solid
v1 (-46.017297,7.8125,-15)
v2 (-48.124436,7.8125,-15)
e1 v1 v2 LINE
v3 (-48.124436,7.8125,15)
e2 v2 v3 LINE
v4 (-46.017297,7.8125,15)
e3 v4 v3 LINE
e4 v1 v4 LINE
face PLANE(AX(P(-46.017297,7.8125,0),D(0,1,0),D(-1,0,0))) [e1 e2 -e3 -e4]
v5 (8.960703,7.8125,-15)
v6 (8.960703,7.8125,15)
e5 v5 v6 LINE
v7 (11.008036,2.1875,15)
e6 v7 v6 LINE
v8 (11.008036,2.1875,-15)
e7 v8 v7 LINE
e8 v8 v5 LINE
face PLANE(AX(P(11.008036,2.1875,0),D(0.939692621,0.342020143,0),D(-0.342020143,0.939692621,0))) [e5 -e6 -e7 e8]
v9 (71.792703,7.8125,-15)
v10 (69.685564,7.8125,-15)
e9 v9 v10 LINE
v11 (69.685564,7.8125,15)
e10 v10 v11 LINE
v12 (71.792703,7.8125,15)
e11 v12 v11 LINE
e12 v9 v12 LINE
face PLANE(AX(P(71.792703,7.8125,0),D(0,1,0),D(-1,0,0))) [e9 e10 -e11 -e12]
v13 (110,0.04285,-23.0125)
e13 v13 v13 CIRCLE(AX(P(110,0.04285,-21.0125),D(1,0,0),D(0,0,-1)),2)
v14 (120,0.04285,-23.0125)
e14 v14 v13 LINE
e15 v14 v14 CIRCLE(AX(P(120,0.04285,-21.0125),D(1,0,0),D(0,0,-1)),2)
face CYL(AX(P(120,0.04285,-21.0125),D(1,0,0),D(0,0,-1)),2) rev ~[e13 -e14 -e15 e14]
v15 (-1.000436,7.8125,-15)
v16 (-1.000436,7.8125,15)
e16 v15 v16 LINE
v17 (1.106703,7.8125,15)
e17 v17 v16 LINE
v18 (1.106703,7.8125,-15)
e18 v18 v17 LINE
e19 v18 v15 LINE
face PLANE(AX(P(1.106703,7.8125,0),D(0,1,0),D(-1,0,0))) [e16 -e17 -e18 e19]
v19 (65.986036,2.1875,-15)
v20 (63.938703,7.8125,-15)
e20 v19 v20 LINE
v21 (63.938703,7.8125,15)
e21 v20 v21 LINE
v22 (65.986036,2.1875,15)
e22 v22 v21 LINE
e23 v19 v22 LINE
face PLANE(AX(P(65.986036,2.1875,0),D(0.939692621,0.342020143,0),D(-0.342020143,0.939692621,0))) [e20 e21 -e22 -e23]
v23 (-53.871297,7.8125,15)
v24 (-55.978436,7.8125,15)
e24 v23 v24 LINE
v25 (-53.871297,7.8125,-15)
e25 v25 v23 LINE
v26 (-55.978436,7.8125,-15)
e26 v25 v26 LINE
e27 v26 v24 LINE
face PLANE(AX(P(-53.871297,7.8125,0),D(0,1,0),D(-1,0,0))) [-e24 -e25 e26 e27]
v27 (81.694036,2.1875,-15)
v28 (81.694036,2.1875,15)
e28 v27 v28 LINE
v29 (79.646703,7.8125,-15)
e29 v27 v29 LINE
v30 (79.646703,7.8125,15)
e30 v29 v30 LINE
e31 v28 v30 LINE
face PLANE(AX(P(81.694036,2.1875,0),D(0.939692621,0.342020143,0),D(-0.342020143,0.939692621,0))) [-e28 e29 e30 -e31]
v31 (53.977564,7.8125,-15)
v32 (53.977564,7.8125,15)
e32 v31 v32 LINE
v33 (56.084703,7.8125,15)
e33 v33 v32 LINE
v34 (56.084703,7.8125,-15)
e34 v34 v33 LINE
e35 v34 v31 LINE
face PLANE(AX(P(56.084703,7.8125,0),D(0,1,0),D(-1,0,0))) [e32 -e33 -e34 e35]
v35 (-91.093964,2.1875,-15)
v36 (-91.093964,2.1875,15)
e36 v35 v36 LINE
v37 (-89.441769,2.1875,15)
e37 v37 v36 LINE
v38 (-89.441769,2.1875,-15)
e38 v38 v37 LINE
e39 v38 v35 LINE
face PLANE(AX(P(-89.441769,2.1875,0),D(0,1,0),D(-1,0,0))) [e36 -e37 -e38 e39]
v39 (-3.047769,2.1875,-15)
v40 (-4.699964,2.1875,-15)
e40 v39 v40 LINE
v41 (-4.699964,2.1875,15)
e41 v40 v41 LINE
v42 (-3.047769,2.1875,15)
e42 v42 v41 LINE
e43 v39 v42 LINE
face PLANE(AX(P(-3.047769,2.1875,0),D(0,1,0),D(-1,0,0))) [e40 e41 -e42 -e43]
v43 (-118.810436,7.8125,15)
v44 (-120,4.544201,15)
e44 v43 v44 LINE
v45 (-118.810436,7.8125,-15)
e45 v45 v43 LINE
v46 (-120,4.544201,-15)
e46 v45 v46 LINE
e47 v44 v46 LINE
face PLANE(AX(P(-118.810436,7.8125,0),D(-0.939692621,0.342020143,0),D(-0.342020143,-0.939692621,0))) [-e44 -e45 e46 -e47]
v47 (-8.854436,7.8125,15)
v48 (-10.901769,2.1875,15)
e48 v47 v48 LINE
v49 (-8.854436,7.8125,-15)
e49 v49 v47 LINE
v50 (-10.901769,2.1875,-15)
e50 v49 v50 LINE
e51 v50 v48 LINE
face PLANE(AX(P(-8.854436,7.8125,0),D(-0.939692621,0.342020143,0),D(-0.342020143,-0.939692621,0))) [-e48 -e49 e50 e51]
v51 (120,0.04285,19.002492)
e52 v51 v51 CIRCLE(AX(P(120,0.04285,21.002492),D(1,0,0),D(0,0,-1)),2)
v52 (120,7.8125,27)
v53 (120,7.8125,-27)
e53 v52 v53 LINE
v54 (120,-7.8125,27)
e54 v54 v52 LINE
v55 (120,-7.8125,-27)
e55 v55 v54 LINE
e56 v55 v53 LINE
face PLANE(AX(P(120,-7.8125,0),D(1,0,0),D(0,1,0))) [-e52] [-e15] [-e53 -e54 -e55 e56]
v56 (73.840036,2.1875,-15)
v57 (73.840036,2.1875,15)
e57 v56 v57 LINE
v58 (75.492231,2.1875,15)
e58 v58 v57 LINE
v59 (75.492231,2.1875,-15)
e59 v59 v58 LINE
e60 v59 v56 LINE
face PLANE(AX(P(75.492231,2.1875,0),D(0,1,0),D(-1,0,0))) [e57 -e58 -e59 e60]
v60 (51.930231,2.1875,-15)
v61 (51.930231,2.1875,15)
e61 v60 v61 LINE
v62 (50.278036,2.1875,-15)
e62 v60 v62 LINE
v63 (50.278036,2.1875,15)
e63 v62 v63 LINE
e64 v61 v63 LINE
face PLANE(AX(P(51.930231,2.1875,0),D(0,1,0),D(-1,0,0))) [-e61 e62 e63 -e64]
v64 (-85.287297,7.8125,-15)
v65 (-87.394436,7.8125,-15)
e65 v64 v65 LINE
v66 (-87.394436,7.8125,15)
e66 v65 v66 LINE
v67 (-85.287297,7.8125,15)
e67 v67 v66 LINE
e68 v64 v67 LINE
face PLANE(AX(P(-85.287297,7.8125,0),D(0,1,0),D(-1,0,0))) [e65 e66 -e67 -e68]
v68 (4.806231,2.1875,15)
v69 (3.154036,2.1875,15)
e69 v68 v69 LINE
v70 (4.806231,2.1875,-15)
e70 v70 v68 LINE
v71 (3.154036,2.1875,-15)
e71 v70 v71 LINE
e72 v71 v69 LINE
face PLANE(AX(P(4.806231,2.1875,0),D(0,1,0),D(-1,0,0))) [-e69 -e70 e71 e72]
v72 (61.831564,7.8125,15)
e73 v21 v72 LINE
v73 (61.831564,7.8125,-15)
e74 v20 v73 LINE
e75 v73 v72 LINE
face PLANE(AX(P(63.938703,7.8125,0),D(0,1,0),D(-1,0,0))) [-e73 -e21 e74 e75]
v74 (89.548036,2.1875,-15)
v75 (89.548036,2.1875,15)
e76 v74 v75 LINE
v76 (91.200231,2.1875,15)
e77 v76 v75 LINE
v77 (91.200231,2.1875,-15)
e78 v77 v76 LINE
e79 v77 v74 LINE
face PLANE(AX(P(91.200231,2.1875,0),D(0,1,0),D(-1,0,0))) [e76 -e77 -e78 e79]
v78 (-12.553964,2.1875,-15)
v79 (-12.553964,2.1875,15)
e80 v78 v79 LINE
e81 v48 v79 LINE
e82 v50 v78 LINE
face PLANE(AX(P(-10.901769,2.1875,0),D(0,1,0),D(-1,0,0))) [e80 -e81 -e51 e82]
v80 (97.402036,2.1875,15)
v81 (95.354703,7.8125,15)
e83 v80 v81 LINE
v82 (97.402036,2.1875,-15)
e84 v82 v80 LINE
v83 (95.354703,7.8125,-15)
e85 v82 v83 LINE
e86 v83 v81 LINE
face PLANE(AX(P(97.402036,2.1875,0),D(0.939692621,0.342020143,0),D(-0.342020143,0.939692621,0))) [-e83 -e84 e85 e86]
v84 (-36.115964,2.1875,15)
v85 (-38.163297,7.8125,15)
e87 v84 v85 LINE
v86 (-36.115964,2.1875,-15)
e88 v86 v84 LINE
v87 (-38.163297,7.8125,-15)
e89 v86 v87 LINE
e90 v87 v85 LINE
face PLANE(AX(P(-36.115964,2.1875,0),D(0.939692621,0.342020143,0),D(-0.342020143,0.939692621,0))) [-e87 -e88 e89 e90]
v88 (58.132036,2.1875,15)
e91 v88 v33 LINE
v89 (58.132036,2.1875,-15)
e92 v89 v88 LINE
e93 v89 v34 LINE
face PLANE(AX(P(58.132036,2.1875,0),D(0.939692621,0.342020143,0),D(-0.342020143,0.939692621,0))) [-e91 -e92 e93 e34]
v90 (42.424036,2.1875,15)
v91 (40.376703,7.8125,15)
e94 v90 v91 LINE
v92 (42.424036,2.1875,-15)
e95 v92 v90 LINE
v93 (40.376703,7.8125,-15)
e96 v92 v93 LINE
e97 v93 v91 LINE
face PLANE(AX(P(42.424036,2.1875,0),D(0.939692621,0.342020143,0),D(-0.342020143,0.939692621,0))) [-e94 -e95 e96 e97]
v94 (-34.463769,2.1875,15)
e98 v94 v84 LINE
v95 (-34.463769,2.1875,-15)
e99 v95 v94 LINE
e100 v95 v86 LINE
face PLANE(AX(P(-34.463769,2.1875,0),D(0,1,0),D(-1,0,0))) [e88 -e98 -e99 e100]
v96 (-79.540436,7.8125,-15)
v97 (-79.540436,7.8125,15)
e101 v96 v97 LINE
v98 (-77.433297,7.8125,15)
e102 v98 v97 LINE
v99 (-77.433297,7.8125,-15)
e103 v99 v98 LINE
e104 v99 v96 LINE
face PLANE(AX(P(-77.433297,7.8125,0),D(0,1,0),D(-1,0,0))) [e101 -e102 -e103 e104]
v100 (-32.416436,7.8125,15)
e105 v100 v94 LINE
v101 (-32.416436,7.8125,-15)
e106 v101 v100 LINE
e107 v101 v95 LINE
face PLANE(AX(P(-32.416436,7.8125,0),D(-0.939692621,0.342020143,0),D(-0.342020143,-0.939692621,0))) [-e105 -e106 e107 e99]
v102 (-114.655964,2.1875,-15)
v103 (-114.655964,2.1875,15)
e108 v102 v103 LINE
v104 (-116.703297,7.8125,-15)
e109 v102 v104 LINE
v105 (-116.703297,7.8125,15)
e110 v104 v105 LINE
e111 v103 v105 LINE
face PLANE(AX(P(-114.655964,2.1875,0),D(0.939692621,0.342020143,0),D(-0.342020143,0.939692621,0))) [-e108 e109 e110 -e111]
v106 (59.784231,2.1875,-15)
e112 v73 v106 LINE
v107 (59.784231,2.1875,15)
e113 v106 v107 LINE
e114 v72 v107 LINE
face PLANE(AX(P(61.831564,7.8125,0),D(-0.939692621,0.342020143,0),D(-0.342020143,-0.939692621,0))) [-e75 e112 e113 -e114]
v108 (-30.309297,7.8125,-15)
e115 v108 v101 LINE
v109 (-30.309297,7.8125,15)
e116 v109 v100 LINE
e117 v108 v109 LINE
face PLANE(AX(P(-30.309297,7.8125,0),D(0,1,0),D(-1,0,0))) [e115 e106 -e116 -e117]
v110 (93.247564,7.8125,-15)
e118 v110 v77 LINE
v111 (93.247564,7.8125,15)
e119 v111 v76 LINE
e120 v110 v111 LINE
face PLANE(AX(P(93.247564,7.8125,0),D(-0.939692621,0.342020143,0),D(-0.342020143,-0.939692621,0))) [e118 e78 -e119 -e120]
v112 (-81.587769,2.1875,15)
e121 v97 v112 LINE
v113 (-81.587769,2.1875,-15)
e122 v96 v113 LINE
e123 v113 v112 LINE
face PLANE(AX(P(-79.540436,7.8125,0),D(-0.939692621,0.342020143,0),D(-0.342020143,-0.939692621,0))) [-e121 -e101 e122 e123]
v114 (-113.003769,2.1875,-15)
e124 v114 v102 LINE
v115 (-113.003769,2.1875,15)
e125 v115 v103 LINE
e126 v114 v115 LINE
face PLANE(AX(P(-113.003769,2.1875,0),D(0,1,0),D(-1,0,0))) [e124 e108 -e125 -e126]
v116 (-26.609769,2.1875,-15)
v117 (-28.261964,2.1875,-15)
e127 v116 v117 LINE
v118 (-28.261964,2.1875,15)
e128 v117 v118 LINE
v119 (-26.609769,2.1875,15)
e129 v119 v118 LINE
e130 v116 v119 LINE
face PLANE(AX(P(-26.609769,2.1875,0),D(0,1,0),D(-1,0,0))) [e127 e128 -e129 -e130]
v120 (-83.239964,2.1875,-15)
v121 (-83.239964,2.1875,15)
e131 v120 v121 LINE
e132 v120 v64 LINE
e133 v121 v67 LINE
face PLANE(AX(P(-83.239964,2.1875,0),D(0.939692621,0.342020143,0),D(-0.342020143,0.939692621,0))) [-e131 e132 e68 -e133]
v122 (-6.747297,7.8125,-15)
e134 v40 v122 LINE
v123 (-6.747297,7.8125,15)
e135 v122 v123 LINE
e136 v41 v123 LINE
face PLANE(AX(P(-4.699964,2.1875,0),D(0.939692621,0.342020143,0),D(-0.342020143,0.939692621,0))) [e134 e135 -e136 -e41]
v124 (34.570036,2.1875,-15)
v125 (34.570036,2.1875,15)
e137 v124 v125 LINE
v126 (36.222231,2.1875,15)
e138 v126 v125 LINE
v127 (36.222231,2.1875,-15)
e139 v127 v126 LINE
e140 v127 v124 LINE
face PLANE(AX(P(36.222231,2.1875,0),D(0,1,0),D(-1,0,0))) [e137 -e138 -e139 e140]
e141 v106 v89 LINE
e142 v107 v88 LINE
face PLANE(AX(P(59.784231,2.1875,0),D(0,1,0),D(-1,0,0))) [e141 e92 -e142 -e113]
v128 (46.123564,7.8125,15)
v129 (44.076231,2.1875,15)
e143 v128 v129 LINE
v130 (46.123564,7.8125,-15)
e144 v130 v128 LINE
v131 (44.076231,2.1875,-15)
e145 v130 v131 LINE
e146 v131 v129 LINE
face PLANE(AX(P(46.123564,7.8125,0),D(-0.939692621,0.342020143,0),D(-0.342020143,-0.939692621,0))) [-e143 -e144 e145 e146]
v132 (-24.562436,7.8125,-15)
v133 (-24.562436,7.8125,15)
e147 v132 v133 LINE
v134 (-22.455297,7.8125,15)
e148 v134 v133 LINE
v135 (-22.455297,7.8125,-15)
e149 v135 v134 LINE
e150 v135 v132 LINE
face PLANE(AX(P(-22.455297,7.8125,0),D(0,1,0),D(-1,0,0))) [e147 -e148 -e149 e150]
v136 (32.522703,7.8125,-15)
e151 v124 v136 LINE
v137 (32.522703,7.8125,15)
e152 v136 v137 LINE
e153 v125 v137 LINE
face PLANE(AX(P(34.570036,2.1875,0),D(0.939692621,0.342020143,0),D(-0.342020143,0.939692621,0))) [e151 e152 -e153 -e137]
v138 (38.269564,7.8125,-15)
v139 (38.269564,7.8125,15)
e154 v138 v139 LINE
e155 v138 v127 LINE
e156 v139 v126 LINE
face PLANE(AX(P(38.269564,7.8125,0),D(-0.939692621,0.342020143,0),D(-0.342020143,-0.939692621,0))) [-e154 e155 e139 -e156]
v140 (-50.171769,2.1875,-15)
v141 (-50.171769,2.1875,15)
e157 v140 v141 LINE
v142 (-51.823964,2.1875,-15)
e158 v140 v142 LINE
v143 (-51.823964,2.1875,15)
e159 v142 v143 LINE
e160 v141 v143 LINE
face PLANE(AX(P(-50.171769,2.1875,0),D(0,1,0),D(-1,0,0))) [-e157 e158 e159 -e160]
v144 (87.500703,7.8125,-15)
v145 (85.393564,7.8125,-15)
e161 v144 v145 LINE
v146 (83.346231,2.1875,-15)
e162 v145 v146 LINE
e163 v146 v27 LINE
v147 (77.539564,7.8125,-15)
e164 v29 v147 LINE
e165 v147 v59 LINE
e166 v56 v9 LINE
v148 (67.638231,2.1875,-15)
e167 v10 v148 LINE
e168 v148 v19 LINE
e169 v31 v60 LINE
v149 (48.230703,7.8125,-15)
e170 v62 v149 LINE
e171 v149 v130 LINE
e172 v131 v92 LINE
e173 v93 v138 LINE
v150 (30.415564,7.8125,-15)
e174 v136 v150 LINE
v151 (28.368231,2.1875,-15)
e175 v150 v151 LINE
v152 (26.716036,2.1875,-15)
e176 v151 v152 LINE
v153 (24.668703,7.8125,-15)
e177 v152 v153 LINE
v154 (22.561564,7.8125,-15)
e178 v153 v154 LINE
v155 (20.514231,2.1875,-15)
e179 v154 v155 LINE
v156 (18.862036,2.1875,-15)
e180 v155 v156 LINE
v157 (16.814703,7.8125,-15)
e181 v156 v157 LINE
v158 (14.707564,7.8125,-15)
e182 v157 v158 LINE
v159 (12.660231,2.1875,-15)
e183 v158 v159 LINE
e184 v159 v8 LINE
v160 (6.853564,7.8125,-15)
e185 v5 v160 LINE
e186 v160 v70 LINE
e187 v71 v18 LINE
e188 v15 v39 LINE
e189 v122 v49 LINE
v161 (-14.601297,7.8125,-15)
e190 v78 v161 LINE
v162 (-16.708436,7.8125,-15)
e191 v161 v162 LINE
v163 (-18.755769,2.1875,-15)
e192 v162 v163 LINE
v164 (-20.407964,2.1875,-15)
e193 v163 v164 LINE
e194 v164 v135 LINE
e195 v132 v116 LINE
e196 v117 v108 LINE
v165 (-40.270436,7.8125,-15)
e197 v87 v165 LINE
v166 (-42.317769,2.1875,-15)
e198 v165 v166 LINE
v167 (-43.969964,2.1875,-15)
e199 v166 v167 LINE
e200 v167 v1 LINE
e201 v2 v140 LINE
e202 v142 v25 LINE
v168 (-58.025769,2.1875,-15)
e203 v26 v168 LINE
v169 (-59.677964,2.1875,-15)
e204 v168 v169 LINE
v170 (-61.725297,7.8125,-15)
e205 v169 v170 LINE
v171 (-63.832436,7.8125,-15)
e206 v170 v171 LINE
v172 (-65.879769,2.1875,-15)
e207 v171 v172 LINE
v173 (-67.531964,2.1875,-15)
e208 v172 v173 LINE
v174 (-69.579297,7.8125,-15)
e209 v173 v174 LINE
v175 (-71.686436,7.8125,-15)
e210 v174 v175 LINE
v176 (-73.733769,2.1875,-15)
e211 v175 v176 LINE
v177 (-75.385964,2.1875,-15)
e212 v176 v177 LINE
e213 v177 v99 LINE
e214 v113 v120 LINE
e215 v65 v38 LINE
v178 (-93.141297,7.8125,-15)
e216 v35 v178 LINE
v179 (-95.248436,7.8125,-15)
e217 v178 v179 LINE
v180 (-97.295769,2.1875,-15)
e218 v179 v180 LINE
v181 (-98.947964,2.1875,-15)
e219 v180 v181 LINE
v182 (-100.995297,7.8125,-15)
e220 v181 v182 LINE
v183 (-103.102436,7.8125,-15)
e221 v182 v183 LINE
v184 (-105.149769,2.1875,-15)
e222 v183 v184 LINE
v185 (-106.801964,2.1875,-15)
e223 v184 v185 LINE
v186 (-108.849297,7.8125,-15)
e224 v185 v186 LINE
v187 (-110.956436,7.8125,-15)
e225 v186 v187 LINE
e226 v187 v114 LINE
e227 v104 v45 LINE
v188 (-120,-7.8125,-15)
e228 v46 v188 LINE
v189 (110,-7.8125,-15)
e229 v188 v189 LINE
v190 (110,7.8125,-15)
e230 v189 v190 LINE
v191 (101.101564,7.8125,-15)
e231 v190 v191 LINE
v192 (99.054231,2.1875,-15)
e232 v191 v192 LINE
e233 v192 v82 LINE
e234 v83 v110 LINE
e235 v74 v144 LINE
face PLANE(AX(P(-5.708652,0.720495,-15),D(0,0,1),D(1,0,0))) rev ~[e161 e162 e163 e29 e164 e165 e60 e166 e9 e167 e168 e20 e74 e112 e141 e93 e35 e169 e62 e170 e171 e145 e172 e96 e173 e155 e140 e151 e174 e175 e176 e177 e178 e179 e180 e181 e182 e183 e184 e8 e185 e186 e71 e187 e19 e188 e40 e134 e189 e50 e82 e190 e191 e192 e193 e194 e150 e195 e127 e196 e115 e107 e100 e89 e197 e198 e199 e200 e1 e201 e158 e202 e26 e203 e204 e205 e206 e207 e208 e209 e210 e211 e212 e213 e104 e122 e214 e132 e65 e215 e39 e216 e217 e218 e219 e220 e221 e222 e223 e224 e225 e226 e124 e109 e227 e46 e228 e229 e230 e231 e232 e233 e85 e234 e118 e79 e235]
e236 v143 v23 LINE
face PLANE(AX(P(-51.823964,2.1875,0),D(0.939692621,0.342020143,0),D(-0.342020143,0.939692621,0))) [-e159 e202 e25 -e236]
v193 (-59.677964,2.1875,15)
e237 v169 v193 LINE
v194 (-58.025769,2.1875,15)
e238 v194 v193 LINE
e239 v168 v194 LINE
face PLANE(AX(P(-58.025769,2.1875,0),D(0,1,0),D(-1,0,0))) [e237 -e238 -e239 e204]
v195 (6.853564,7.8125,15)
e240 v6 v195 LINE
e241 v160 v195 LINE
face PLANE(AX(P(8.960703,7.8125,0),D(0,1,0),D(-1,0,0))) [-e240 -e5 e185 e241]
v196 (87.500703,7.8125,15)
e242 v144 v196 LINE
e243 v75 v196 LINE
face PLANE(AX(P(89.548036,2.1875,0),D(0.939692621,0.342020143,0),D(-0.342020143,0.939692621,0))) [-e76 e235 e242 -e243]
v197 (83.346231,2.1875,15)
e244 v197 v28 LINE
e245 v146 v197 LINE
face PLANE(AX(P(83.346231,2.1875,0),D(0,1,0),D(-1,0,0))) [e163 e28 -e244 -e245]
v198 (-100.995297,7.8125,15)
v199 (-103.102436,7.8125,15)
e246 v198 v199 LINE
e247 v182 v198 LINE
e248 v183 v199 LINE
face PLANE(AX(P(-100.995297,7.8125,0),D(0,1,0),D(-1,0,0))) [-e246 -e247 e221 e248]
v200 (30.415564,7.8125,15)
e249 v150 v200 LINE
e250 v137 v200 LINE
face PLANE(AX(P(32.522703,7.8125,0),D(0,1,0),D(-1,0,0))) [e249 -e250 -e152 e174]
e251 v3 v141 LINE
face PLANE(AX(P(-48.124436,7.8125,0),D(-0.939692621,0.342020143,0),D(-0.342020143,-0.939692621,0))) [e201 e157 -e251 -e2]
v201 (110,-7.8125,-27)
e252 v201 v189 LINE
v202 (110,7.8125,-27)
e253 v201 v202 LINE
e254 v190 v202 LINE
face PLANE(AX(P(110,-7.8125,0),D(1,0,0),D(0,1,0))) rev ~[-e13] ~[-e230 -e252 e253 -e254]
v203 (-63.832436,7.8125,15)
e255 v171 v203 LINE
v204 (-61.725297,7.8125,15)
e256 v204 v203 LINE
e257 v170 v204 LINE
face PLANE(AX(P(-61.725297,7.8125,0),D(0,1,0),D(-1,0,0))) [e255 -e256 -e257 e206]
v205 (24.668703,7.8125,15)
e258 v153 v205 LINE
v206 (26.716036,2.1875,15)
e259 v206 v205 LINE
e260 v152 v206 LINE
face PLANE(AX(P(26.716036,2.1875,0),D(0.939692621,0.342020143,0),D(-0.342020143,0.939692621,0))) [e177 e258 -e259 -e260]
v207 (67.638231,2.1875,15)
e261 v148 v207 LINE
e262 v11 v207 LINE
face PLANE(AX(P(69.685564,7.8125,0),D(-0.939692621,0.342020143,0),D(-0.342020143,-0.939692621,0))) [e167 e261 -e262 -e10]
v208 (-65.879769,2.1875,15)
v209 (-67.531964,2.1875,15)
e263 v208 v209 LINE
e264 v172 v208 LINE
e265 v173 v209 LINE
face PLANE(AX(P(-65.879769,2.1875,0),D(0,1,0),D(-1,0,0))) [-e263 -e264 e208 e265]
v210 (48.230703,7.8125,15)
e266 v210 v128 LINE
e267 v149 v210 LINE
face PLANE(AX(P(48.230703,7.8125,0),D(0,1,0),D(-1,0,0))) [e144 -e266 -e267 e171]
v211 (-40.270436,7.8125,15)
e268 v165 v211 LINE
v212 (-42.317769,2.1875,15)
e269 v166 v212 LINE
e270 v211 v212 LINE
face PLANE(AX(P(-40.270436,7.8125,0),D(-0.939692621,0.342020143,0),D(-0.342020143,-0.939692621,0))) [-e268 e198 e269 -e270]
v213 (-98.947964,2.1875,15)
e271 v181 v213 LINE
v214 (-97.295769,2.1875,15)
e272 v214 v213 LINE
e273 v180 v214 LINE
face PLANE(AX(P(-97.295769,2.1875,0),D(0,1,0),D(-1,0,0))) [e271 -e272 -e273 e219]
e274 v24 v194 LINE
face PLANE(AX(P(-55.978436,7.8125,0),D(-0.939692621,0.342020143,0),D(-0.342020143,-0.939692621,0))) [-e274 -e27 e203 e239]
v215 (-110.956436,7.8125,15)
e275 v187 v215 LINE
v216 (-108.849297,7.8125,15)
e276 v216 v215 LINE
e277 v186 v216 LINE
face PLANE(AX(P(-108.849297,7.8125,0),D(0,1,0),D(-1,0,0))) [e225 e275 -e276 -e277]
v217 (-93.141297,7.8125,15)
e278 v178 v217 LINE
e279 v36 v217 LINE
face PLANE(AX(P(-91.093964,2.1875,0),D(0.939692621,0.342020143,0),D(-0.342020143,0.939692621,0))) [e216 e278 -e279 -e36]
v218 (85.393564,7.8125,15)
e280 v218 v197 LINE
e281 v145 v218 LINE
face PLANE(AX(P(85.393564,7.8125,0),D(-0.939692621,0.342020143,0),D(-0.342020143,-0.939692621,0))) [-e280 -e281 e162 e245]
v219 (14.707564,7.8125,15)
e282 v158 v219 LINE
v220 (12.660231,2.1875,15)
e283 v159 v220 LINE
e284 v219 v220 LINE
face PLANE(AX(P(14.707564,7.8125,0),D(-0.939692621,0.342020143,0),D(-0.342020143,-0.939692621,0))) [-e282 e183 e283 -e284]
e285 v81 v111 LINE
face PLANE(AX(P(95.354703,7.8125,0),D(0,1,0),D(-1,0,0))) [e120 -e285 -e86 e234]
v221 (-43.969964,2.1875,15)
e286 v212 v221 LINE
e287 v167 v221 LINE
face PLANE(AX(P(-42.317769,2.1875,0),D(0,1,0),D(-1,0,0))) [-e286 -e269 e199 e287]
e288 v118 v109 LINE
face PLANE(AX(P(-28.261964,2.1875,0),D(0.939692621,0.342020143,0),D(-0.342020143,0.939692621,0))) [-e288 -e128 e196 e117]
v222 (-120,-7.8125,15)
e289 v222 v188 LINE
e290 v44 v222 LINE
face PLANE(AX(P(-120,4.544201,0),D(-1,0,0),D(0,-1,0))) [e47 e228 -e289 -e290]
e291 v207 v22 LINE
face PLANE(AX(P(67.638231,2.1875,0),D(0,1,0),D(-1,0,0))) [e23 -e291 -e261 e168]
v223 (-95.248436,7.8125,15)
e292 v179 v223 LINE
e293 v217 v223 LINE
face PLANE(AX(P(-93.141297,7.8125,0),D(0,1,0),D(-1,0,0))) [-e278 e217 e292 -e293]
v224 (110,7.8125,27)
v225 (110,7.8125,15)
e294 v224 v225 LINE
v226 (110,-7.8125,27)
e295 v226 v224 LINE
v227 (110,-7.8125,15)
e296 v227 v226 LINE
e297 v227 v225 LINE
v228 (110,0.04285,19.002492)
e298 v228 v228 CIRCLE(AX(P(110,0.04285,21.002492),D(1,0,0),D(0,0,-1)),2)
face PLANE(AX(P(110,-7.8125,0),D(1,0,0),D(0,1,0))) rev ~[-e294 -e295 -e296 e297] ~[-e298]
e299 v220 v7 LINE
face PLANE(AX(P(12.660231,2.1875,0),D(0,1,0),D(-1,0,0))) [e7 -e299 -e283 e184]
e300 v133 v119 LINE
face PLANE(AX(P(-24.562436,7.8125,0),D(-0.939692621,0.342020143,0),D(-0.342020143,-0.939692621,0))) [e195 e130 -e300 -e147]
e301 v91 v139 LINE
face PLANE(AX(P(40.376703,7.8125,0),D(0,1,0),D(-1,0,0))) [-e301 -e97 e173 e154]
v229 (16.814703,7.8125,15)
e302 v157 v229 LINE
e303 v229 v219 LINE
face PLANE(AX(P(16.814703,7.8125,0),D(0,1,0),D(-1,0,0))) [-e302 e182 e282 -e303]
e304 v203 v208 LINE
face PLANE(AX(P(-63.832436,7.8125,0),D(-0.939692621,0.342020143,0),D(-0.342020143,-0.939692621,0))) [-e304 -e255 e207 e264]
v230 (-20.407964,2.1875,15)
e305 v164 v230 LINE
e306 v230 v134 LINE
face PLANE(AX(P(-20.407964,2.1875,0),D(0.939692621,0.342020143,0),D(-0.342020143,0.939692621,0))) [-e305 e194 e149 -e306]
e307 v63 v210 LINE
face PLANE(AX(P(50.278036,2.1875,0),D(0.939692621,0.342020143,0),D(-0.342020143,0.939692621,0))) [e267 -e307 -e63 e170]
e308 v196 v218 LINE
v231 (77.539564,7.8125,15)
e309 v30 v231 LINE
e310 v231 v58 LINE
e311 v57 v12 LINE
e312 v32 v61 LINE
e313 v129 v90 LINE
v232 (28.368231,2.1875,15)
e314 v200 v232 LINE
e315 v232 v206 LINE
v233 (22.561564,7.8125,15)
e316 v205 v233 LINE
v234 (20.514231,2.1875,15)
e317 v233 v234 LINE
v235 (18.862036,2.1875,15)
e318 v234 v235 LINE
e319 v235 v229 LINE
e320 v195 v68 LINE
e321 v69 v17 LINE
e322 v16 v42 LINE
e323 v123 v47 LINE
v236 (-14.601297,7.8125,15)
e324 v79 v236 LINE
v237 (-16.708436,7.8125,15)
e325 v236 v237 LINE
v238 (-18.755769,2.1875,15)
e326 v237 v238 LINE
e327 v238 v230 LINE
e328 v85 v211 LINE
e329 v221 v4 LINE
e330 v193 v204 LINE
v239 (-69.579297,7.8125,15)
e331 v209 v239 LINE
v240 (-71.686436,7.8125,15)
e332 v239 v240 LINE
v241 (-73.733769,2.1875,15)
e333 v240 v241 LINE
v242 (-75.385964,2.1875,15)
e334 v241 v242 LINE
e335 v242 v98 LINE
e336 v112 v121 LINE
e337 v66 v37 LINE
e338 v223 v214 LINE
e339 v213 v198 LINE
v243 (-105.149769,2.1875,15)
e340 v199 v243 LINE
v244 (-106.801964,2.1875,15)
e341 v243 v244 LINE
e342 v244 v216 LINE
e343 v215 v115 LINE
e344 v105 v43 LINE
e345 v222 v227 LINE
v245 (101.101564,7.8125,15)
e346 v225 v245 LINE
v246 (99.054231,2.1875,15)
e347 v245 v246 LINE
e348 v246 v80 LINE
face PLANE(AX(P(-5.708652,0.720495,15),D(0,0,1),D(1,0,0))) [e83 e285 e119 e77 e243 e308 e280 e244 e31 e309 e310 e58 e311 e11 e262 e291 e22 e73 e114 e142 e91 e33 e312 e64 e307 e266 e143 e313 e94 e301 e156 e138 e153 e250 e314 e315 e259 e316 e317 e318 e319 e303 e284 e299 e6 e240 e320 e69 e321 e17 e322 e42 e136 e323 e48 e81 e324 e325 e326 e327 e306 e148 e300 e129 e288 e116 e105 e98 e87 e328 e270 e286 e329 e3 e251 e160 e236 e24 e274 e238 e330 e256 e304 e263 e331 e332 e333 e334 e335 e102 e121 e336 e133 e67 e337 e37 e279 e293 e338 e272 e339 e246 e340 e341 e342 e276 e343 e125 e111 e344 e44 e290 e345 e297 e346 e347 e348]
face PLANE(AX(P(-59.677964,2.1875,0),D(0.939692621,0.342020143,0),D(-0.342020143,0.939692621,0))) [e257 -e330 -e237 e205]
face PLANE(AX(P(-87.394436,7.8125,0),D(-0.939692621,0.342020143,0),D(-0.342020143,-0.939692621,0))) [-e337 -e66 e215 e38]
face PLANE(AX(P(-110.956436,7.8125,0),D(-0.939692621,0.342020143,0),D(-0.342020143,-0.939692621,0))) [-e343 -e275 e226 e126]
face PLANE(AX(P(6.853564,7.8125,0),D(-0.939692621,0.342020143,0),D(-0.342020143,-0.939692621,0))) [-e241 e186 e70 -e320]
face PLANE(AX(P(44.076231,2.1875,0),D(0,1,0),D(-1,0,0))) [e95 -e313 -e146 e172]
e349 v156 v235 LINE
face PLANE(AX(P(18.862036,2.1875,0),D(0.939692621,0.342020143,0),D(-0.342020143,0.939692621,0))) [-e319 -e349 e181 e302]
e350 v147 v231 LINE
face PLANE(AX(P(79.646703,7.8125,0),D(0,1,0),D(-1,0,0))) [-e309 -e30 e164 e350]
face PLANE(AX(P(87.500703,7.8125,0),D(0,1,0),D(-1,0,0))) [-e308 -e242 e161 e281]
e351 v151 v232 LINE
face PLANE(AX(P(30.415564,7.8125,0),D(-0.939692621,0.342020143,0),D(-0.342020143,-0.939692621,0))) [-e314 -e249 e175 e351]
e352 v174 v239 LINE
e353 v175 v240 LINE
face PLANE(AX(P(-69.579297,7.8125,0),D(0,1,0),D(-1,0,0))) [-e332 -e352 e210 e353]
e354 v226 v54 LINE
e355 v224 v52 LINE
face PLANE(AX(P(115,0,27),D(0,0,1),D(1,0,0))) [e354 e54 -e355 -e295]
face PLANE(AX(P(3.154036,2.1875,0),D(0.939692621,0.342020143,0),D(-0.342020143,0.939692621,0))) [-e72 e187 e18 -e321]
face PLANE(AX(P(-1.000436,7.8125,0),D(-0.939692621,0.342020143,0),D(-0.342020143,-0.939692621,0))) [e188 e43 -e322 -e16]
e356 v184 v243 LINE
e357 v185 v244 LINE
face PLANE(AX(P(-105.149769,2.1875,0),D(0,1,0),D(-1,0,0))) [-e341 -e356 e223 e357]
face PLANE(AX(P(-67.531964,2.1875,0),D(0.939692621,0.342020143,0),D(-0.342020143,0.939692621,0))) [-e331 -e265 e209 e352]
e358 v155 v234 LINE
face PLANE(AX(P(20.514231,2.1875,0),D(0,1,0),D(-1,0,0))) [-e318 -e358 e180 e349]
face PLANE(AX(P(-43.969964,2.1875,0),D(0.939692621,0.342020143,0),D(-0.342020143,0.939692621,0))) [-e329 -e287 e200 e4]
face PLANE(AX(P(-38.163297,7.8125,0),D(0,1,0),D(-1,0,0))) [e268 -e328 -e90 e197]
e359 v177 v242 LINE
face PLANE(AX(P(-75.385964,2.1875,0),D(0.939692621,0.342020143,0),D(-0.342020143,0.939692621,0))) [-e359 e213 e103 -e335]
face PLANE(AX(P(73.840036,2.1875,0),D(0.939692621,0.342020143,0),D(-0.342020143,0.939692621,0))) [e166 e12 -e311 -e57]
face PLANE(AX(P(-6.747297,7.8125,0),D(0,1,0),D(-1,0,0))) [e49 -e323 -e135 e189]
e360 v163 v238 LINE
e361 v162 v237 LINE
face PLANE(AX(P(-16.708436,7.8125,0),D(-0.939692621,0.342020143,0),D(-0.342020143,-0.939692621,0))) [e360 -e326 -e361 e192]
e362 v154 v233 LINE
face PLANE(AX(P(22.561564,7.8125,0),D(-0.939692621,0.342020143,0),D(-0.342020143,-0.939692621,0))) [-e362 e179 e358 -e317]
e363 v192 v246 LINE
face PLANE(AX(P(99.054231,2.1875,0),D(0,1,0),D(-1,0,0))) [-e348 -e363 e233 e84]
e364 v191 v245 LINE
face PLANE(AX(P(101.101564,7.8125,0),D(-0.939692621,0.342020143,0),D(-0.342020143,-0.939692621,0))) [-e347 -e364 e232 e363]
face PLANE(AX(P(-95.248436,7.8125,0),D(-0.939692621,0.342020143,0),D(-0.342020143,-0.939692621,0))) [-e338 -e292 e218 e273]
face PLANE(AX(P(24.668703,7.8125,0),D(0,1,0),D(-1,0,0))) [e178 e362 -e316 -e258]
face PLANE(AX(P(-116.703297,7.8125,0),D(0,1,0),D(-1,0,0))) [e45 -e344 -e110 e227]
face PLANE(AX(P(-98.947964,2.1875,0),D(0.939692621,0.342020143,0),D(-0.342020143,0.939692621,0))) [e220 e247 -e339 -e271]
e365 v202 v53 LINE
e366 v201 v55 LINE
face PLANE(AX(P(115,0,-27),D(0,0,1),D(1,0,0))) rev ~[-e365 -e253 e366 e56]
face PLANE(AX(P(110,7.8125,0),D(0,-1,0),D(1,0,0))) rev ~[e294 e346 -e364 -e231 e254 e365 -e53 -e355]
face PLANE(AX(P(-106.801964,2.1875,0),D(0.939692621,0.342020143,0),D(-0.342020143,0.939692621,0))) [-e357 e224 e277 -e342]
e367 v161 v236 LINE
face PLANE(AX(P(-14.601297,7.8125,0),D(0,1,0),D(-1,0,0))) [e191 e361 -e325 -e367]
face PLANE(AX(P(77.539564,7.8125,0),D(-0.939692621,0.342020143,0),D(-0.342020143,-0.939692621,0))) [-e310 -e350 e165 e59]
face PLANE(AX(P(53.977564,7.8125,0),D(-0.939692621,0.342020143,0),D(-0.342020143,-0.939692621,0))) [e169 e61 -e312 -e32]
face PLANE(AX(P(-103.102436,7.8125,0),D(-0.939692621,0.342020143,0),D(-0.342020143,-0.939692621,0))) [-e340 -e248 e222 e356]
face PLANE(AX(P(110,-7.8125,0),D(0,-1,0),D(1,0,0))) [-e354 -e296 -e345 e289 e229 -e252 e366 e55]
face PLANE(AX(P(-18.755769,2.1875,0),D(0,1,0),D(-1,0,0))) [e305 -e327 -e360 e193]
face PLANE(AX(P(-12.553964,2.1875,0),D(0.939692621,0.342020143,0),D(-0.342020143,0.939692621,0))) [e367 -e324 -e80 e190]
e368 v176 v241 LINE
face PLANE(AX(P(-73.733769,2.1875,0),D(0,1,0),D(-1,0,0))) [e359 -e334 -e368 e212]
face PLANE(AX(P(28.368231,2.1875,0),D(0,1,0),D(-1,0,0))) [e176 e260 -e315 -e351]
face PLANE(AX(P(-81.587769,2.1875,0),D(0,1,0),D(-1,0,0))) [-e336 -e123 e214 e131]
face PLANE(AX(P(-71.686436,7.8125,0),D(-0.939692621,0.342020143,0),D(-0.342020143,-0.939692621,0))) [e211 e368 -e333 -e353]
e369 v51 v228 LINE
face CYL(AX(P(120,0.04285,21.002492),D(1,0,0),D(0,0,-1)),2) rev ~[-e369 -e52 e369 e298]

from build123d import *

# Parameters (mm, degrees)
BOSS_EXTRUDE1_DEPTH = 15
SKETCH1_3_W         = 10
SKETCH1_3_H         = 15.625
BOSS_EXTRUDE2_DEPTH = 27
SKETCH2_R           = 2
CUT_EXTRUDE1_DEPTH  = 54


with BuildPart() as part:
    # Sketch1 → Boss-Extrude1 (new body, symmetric)
    with BuildSketch(Plane.XY):
        Polygon((110, -7.8125), (110, 7.8125), (101.101563673, 7.8125), (99.054231105, 2.1875), (97.402035886, 2.1875), (95.354703318, 7.8125), (93.247563673, 7.8125), (91.200231105, 2.1875), (89.548035886, 2.1875), (87.500703318, 7.8125), (85.393563673, 7.8125), (83.346231105, 2.1875), (81.694035886, 2.1875), (79.646703318, 7.8125), (77.539563673, 7.8125), (75.492231105, 2.1875), (73.840035886, 2.1875), (71.792703318, 7.8125), (69.685563673, 7.8125), (67.638231105, 2.1875), (65.986035886, 2.1875), (63.938703318, 7.8125), (61.831563673, 7.8125), (59.784231105, 2.1875), (58.132035886, 2.1875), (56.084703318, 7.8125), (53.977563673, 7.8125), (51.930231105, 2.1875), (50.278035886, 2.1875), (48.230703318, 7.8125), (46.123563673, 7.8125), (44.076231105, 2.1875), (42.424035886, 2.1875), (40.376703318, 7.8125), (38.269563673, 7.8125), (36.222231105, 2.1875), (34.570035886, 2.1875), (32.522703318, 7.8125), (30.415563673, 7.8125), (28.368231105, 2.1875), (26.716035886, 2.1875), (24.668703318, 7.8125), (22.561563673, 7.8125), (20.514231105, 2.1875), (18.862035886, 2.1875), (16.814703318, 7.8125), (14.707563673, 7.8125), (12.660231105, 2.1875), (11.008035886, 2.1875), (8.960703318, 7.8125), (6.853563673, 7.8125), (4.806231105, 2.1875), (3.154035886, 2.1875), (1.106703318, 7.8125), (-1.000436327, 7.8125), (-3.047768895, 2.1875), (-4.699964114, 2.1875), (-6.747296682, 7.8125), (-8.854436327, 7.8125), (-10.901768895, 2.1875), (-12.553964114, 2.1875), (-14.601296682, 7.8125), (-16.708436327, 7.8125), (-18.755768895, 2.1875), (-20.407964114, 2.1875), (-22.455296682, 7.8125), (-24.562436327, 7.8125), (-26.609768895, 2.1875), (-28.261964114, 2.1875), (-30.309296682, 7.8125), (-32.416436327, 7.8125), (-34.463768895, 2.1875), (-36.115964114, 2.1875), (-38.163296682, 7.8125), (-40.270436327, 7.8125), (-42.317768895, 2.1875), (-43.969964114, 2.1875), (-46.017296682, 7.8125), (-48.124436327, 7.8125), (-50.171768895, 2.1875), (-51.823964114, 2.1875), (-53.871296682, 7.8125), (-55.978436327, 7.8125), (-58.025768895, 2.1875), (-59.677964114, 2.1875), (-61.725296682, 7.8125), (-63.832436327, 7.8125), (-65.879768895, 2.1875), (-67.531964114, 2.1875), (-69.579296682, 7.8125), (-71.686436327, 7.8125), (-73.733768895, 2.1875), (-75.385964114, 2.1875), (-77.433296682, 7.8125), (-79.540436327, 7.8125), (-81.587768895, 2.1875), (-83.239964114, 2.1875), (-85.287296682, 7.8125), (-87.394436327, 7.8125), (-89.441768895, 2.1875), (-91.093964114, 2.1875), (-93.141296682, 7.8125), (-95.248436327, 7.8125), (-97.295768895, 2.1875), (-98.947964114, 2.1875), (-100.995296682, 7.8125), (-103.102436327, 7.8125), (-105.149768895, 2.1875), (-106.801964114, 2.1875), (-108.849296682, 7.8125), (-110.956436327, 7.8125), (-113.003768895, 2.1875), (-114.655964114, 2.1875), (-116.703296682, 7.8125), (-118.810436327, 7.8125), (-120, 4.54420067), (-120, -7.8125), align=None)
    extrude(amount=BOSS_EXTRUDE1_DEPTH, both=True)

    # Sketch1<3> → Boss-Extrude2 (add, symmetric)
    with BuildSketch(Plane.XY):
        with Locations((115, 0)):
            Rectangle(SKETCH1_3_W, SKETCH1_3_H)
    extrude(amount=BOSS_EXTRUDE2_DEPTH, both=True)

    # Sketch2 → Cut-Extrude1 (cut)
    with BuildSketch(Plane(origin=(120, 0, 0), x_dir=(0, 0, -1), z_dir=(1, 0, 0))):
        with Locations((-21.002491739, 0.042849803)):
            Circle(SKETCH2_R)
        with Locations((21.012499646, 0.042849803)):
            Circle(SKETCH2_R)
    extrude(amount=-CUT_EXTRUDE1_DEPTH, mode=Mode.SUBTRACT)


solid = part.part
